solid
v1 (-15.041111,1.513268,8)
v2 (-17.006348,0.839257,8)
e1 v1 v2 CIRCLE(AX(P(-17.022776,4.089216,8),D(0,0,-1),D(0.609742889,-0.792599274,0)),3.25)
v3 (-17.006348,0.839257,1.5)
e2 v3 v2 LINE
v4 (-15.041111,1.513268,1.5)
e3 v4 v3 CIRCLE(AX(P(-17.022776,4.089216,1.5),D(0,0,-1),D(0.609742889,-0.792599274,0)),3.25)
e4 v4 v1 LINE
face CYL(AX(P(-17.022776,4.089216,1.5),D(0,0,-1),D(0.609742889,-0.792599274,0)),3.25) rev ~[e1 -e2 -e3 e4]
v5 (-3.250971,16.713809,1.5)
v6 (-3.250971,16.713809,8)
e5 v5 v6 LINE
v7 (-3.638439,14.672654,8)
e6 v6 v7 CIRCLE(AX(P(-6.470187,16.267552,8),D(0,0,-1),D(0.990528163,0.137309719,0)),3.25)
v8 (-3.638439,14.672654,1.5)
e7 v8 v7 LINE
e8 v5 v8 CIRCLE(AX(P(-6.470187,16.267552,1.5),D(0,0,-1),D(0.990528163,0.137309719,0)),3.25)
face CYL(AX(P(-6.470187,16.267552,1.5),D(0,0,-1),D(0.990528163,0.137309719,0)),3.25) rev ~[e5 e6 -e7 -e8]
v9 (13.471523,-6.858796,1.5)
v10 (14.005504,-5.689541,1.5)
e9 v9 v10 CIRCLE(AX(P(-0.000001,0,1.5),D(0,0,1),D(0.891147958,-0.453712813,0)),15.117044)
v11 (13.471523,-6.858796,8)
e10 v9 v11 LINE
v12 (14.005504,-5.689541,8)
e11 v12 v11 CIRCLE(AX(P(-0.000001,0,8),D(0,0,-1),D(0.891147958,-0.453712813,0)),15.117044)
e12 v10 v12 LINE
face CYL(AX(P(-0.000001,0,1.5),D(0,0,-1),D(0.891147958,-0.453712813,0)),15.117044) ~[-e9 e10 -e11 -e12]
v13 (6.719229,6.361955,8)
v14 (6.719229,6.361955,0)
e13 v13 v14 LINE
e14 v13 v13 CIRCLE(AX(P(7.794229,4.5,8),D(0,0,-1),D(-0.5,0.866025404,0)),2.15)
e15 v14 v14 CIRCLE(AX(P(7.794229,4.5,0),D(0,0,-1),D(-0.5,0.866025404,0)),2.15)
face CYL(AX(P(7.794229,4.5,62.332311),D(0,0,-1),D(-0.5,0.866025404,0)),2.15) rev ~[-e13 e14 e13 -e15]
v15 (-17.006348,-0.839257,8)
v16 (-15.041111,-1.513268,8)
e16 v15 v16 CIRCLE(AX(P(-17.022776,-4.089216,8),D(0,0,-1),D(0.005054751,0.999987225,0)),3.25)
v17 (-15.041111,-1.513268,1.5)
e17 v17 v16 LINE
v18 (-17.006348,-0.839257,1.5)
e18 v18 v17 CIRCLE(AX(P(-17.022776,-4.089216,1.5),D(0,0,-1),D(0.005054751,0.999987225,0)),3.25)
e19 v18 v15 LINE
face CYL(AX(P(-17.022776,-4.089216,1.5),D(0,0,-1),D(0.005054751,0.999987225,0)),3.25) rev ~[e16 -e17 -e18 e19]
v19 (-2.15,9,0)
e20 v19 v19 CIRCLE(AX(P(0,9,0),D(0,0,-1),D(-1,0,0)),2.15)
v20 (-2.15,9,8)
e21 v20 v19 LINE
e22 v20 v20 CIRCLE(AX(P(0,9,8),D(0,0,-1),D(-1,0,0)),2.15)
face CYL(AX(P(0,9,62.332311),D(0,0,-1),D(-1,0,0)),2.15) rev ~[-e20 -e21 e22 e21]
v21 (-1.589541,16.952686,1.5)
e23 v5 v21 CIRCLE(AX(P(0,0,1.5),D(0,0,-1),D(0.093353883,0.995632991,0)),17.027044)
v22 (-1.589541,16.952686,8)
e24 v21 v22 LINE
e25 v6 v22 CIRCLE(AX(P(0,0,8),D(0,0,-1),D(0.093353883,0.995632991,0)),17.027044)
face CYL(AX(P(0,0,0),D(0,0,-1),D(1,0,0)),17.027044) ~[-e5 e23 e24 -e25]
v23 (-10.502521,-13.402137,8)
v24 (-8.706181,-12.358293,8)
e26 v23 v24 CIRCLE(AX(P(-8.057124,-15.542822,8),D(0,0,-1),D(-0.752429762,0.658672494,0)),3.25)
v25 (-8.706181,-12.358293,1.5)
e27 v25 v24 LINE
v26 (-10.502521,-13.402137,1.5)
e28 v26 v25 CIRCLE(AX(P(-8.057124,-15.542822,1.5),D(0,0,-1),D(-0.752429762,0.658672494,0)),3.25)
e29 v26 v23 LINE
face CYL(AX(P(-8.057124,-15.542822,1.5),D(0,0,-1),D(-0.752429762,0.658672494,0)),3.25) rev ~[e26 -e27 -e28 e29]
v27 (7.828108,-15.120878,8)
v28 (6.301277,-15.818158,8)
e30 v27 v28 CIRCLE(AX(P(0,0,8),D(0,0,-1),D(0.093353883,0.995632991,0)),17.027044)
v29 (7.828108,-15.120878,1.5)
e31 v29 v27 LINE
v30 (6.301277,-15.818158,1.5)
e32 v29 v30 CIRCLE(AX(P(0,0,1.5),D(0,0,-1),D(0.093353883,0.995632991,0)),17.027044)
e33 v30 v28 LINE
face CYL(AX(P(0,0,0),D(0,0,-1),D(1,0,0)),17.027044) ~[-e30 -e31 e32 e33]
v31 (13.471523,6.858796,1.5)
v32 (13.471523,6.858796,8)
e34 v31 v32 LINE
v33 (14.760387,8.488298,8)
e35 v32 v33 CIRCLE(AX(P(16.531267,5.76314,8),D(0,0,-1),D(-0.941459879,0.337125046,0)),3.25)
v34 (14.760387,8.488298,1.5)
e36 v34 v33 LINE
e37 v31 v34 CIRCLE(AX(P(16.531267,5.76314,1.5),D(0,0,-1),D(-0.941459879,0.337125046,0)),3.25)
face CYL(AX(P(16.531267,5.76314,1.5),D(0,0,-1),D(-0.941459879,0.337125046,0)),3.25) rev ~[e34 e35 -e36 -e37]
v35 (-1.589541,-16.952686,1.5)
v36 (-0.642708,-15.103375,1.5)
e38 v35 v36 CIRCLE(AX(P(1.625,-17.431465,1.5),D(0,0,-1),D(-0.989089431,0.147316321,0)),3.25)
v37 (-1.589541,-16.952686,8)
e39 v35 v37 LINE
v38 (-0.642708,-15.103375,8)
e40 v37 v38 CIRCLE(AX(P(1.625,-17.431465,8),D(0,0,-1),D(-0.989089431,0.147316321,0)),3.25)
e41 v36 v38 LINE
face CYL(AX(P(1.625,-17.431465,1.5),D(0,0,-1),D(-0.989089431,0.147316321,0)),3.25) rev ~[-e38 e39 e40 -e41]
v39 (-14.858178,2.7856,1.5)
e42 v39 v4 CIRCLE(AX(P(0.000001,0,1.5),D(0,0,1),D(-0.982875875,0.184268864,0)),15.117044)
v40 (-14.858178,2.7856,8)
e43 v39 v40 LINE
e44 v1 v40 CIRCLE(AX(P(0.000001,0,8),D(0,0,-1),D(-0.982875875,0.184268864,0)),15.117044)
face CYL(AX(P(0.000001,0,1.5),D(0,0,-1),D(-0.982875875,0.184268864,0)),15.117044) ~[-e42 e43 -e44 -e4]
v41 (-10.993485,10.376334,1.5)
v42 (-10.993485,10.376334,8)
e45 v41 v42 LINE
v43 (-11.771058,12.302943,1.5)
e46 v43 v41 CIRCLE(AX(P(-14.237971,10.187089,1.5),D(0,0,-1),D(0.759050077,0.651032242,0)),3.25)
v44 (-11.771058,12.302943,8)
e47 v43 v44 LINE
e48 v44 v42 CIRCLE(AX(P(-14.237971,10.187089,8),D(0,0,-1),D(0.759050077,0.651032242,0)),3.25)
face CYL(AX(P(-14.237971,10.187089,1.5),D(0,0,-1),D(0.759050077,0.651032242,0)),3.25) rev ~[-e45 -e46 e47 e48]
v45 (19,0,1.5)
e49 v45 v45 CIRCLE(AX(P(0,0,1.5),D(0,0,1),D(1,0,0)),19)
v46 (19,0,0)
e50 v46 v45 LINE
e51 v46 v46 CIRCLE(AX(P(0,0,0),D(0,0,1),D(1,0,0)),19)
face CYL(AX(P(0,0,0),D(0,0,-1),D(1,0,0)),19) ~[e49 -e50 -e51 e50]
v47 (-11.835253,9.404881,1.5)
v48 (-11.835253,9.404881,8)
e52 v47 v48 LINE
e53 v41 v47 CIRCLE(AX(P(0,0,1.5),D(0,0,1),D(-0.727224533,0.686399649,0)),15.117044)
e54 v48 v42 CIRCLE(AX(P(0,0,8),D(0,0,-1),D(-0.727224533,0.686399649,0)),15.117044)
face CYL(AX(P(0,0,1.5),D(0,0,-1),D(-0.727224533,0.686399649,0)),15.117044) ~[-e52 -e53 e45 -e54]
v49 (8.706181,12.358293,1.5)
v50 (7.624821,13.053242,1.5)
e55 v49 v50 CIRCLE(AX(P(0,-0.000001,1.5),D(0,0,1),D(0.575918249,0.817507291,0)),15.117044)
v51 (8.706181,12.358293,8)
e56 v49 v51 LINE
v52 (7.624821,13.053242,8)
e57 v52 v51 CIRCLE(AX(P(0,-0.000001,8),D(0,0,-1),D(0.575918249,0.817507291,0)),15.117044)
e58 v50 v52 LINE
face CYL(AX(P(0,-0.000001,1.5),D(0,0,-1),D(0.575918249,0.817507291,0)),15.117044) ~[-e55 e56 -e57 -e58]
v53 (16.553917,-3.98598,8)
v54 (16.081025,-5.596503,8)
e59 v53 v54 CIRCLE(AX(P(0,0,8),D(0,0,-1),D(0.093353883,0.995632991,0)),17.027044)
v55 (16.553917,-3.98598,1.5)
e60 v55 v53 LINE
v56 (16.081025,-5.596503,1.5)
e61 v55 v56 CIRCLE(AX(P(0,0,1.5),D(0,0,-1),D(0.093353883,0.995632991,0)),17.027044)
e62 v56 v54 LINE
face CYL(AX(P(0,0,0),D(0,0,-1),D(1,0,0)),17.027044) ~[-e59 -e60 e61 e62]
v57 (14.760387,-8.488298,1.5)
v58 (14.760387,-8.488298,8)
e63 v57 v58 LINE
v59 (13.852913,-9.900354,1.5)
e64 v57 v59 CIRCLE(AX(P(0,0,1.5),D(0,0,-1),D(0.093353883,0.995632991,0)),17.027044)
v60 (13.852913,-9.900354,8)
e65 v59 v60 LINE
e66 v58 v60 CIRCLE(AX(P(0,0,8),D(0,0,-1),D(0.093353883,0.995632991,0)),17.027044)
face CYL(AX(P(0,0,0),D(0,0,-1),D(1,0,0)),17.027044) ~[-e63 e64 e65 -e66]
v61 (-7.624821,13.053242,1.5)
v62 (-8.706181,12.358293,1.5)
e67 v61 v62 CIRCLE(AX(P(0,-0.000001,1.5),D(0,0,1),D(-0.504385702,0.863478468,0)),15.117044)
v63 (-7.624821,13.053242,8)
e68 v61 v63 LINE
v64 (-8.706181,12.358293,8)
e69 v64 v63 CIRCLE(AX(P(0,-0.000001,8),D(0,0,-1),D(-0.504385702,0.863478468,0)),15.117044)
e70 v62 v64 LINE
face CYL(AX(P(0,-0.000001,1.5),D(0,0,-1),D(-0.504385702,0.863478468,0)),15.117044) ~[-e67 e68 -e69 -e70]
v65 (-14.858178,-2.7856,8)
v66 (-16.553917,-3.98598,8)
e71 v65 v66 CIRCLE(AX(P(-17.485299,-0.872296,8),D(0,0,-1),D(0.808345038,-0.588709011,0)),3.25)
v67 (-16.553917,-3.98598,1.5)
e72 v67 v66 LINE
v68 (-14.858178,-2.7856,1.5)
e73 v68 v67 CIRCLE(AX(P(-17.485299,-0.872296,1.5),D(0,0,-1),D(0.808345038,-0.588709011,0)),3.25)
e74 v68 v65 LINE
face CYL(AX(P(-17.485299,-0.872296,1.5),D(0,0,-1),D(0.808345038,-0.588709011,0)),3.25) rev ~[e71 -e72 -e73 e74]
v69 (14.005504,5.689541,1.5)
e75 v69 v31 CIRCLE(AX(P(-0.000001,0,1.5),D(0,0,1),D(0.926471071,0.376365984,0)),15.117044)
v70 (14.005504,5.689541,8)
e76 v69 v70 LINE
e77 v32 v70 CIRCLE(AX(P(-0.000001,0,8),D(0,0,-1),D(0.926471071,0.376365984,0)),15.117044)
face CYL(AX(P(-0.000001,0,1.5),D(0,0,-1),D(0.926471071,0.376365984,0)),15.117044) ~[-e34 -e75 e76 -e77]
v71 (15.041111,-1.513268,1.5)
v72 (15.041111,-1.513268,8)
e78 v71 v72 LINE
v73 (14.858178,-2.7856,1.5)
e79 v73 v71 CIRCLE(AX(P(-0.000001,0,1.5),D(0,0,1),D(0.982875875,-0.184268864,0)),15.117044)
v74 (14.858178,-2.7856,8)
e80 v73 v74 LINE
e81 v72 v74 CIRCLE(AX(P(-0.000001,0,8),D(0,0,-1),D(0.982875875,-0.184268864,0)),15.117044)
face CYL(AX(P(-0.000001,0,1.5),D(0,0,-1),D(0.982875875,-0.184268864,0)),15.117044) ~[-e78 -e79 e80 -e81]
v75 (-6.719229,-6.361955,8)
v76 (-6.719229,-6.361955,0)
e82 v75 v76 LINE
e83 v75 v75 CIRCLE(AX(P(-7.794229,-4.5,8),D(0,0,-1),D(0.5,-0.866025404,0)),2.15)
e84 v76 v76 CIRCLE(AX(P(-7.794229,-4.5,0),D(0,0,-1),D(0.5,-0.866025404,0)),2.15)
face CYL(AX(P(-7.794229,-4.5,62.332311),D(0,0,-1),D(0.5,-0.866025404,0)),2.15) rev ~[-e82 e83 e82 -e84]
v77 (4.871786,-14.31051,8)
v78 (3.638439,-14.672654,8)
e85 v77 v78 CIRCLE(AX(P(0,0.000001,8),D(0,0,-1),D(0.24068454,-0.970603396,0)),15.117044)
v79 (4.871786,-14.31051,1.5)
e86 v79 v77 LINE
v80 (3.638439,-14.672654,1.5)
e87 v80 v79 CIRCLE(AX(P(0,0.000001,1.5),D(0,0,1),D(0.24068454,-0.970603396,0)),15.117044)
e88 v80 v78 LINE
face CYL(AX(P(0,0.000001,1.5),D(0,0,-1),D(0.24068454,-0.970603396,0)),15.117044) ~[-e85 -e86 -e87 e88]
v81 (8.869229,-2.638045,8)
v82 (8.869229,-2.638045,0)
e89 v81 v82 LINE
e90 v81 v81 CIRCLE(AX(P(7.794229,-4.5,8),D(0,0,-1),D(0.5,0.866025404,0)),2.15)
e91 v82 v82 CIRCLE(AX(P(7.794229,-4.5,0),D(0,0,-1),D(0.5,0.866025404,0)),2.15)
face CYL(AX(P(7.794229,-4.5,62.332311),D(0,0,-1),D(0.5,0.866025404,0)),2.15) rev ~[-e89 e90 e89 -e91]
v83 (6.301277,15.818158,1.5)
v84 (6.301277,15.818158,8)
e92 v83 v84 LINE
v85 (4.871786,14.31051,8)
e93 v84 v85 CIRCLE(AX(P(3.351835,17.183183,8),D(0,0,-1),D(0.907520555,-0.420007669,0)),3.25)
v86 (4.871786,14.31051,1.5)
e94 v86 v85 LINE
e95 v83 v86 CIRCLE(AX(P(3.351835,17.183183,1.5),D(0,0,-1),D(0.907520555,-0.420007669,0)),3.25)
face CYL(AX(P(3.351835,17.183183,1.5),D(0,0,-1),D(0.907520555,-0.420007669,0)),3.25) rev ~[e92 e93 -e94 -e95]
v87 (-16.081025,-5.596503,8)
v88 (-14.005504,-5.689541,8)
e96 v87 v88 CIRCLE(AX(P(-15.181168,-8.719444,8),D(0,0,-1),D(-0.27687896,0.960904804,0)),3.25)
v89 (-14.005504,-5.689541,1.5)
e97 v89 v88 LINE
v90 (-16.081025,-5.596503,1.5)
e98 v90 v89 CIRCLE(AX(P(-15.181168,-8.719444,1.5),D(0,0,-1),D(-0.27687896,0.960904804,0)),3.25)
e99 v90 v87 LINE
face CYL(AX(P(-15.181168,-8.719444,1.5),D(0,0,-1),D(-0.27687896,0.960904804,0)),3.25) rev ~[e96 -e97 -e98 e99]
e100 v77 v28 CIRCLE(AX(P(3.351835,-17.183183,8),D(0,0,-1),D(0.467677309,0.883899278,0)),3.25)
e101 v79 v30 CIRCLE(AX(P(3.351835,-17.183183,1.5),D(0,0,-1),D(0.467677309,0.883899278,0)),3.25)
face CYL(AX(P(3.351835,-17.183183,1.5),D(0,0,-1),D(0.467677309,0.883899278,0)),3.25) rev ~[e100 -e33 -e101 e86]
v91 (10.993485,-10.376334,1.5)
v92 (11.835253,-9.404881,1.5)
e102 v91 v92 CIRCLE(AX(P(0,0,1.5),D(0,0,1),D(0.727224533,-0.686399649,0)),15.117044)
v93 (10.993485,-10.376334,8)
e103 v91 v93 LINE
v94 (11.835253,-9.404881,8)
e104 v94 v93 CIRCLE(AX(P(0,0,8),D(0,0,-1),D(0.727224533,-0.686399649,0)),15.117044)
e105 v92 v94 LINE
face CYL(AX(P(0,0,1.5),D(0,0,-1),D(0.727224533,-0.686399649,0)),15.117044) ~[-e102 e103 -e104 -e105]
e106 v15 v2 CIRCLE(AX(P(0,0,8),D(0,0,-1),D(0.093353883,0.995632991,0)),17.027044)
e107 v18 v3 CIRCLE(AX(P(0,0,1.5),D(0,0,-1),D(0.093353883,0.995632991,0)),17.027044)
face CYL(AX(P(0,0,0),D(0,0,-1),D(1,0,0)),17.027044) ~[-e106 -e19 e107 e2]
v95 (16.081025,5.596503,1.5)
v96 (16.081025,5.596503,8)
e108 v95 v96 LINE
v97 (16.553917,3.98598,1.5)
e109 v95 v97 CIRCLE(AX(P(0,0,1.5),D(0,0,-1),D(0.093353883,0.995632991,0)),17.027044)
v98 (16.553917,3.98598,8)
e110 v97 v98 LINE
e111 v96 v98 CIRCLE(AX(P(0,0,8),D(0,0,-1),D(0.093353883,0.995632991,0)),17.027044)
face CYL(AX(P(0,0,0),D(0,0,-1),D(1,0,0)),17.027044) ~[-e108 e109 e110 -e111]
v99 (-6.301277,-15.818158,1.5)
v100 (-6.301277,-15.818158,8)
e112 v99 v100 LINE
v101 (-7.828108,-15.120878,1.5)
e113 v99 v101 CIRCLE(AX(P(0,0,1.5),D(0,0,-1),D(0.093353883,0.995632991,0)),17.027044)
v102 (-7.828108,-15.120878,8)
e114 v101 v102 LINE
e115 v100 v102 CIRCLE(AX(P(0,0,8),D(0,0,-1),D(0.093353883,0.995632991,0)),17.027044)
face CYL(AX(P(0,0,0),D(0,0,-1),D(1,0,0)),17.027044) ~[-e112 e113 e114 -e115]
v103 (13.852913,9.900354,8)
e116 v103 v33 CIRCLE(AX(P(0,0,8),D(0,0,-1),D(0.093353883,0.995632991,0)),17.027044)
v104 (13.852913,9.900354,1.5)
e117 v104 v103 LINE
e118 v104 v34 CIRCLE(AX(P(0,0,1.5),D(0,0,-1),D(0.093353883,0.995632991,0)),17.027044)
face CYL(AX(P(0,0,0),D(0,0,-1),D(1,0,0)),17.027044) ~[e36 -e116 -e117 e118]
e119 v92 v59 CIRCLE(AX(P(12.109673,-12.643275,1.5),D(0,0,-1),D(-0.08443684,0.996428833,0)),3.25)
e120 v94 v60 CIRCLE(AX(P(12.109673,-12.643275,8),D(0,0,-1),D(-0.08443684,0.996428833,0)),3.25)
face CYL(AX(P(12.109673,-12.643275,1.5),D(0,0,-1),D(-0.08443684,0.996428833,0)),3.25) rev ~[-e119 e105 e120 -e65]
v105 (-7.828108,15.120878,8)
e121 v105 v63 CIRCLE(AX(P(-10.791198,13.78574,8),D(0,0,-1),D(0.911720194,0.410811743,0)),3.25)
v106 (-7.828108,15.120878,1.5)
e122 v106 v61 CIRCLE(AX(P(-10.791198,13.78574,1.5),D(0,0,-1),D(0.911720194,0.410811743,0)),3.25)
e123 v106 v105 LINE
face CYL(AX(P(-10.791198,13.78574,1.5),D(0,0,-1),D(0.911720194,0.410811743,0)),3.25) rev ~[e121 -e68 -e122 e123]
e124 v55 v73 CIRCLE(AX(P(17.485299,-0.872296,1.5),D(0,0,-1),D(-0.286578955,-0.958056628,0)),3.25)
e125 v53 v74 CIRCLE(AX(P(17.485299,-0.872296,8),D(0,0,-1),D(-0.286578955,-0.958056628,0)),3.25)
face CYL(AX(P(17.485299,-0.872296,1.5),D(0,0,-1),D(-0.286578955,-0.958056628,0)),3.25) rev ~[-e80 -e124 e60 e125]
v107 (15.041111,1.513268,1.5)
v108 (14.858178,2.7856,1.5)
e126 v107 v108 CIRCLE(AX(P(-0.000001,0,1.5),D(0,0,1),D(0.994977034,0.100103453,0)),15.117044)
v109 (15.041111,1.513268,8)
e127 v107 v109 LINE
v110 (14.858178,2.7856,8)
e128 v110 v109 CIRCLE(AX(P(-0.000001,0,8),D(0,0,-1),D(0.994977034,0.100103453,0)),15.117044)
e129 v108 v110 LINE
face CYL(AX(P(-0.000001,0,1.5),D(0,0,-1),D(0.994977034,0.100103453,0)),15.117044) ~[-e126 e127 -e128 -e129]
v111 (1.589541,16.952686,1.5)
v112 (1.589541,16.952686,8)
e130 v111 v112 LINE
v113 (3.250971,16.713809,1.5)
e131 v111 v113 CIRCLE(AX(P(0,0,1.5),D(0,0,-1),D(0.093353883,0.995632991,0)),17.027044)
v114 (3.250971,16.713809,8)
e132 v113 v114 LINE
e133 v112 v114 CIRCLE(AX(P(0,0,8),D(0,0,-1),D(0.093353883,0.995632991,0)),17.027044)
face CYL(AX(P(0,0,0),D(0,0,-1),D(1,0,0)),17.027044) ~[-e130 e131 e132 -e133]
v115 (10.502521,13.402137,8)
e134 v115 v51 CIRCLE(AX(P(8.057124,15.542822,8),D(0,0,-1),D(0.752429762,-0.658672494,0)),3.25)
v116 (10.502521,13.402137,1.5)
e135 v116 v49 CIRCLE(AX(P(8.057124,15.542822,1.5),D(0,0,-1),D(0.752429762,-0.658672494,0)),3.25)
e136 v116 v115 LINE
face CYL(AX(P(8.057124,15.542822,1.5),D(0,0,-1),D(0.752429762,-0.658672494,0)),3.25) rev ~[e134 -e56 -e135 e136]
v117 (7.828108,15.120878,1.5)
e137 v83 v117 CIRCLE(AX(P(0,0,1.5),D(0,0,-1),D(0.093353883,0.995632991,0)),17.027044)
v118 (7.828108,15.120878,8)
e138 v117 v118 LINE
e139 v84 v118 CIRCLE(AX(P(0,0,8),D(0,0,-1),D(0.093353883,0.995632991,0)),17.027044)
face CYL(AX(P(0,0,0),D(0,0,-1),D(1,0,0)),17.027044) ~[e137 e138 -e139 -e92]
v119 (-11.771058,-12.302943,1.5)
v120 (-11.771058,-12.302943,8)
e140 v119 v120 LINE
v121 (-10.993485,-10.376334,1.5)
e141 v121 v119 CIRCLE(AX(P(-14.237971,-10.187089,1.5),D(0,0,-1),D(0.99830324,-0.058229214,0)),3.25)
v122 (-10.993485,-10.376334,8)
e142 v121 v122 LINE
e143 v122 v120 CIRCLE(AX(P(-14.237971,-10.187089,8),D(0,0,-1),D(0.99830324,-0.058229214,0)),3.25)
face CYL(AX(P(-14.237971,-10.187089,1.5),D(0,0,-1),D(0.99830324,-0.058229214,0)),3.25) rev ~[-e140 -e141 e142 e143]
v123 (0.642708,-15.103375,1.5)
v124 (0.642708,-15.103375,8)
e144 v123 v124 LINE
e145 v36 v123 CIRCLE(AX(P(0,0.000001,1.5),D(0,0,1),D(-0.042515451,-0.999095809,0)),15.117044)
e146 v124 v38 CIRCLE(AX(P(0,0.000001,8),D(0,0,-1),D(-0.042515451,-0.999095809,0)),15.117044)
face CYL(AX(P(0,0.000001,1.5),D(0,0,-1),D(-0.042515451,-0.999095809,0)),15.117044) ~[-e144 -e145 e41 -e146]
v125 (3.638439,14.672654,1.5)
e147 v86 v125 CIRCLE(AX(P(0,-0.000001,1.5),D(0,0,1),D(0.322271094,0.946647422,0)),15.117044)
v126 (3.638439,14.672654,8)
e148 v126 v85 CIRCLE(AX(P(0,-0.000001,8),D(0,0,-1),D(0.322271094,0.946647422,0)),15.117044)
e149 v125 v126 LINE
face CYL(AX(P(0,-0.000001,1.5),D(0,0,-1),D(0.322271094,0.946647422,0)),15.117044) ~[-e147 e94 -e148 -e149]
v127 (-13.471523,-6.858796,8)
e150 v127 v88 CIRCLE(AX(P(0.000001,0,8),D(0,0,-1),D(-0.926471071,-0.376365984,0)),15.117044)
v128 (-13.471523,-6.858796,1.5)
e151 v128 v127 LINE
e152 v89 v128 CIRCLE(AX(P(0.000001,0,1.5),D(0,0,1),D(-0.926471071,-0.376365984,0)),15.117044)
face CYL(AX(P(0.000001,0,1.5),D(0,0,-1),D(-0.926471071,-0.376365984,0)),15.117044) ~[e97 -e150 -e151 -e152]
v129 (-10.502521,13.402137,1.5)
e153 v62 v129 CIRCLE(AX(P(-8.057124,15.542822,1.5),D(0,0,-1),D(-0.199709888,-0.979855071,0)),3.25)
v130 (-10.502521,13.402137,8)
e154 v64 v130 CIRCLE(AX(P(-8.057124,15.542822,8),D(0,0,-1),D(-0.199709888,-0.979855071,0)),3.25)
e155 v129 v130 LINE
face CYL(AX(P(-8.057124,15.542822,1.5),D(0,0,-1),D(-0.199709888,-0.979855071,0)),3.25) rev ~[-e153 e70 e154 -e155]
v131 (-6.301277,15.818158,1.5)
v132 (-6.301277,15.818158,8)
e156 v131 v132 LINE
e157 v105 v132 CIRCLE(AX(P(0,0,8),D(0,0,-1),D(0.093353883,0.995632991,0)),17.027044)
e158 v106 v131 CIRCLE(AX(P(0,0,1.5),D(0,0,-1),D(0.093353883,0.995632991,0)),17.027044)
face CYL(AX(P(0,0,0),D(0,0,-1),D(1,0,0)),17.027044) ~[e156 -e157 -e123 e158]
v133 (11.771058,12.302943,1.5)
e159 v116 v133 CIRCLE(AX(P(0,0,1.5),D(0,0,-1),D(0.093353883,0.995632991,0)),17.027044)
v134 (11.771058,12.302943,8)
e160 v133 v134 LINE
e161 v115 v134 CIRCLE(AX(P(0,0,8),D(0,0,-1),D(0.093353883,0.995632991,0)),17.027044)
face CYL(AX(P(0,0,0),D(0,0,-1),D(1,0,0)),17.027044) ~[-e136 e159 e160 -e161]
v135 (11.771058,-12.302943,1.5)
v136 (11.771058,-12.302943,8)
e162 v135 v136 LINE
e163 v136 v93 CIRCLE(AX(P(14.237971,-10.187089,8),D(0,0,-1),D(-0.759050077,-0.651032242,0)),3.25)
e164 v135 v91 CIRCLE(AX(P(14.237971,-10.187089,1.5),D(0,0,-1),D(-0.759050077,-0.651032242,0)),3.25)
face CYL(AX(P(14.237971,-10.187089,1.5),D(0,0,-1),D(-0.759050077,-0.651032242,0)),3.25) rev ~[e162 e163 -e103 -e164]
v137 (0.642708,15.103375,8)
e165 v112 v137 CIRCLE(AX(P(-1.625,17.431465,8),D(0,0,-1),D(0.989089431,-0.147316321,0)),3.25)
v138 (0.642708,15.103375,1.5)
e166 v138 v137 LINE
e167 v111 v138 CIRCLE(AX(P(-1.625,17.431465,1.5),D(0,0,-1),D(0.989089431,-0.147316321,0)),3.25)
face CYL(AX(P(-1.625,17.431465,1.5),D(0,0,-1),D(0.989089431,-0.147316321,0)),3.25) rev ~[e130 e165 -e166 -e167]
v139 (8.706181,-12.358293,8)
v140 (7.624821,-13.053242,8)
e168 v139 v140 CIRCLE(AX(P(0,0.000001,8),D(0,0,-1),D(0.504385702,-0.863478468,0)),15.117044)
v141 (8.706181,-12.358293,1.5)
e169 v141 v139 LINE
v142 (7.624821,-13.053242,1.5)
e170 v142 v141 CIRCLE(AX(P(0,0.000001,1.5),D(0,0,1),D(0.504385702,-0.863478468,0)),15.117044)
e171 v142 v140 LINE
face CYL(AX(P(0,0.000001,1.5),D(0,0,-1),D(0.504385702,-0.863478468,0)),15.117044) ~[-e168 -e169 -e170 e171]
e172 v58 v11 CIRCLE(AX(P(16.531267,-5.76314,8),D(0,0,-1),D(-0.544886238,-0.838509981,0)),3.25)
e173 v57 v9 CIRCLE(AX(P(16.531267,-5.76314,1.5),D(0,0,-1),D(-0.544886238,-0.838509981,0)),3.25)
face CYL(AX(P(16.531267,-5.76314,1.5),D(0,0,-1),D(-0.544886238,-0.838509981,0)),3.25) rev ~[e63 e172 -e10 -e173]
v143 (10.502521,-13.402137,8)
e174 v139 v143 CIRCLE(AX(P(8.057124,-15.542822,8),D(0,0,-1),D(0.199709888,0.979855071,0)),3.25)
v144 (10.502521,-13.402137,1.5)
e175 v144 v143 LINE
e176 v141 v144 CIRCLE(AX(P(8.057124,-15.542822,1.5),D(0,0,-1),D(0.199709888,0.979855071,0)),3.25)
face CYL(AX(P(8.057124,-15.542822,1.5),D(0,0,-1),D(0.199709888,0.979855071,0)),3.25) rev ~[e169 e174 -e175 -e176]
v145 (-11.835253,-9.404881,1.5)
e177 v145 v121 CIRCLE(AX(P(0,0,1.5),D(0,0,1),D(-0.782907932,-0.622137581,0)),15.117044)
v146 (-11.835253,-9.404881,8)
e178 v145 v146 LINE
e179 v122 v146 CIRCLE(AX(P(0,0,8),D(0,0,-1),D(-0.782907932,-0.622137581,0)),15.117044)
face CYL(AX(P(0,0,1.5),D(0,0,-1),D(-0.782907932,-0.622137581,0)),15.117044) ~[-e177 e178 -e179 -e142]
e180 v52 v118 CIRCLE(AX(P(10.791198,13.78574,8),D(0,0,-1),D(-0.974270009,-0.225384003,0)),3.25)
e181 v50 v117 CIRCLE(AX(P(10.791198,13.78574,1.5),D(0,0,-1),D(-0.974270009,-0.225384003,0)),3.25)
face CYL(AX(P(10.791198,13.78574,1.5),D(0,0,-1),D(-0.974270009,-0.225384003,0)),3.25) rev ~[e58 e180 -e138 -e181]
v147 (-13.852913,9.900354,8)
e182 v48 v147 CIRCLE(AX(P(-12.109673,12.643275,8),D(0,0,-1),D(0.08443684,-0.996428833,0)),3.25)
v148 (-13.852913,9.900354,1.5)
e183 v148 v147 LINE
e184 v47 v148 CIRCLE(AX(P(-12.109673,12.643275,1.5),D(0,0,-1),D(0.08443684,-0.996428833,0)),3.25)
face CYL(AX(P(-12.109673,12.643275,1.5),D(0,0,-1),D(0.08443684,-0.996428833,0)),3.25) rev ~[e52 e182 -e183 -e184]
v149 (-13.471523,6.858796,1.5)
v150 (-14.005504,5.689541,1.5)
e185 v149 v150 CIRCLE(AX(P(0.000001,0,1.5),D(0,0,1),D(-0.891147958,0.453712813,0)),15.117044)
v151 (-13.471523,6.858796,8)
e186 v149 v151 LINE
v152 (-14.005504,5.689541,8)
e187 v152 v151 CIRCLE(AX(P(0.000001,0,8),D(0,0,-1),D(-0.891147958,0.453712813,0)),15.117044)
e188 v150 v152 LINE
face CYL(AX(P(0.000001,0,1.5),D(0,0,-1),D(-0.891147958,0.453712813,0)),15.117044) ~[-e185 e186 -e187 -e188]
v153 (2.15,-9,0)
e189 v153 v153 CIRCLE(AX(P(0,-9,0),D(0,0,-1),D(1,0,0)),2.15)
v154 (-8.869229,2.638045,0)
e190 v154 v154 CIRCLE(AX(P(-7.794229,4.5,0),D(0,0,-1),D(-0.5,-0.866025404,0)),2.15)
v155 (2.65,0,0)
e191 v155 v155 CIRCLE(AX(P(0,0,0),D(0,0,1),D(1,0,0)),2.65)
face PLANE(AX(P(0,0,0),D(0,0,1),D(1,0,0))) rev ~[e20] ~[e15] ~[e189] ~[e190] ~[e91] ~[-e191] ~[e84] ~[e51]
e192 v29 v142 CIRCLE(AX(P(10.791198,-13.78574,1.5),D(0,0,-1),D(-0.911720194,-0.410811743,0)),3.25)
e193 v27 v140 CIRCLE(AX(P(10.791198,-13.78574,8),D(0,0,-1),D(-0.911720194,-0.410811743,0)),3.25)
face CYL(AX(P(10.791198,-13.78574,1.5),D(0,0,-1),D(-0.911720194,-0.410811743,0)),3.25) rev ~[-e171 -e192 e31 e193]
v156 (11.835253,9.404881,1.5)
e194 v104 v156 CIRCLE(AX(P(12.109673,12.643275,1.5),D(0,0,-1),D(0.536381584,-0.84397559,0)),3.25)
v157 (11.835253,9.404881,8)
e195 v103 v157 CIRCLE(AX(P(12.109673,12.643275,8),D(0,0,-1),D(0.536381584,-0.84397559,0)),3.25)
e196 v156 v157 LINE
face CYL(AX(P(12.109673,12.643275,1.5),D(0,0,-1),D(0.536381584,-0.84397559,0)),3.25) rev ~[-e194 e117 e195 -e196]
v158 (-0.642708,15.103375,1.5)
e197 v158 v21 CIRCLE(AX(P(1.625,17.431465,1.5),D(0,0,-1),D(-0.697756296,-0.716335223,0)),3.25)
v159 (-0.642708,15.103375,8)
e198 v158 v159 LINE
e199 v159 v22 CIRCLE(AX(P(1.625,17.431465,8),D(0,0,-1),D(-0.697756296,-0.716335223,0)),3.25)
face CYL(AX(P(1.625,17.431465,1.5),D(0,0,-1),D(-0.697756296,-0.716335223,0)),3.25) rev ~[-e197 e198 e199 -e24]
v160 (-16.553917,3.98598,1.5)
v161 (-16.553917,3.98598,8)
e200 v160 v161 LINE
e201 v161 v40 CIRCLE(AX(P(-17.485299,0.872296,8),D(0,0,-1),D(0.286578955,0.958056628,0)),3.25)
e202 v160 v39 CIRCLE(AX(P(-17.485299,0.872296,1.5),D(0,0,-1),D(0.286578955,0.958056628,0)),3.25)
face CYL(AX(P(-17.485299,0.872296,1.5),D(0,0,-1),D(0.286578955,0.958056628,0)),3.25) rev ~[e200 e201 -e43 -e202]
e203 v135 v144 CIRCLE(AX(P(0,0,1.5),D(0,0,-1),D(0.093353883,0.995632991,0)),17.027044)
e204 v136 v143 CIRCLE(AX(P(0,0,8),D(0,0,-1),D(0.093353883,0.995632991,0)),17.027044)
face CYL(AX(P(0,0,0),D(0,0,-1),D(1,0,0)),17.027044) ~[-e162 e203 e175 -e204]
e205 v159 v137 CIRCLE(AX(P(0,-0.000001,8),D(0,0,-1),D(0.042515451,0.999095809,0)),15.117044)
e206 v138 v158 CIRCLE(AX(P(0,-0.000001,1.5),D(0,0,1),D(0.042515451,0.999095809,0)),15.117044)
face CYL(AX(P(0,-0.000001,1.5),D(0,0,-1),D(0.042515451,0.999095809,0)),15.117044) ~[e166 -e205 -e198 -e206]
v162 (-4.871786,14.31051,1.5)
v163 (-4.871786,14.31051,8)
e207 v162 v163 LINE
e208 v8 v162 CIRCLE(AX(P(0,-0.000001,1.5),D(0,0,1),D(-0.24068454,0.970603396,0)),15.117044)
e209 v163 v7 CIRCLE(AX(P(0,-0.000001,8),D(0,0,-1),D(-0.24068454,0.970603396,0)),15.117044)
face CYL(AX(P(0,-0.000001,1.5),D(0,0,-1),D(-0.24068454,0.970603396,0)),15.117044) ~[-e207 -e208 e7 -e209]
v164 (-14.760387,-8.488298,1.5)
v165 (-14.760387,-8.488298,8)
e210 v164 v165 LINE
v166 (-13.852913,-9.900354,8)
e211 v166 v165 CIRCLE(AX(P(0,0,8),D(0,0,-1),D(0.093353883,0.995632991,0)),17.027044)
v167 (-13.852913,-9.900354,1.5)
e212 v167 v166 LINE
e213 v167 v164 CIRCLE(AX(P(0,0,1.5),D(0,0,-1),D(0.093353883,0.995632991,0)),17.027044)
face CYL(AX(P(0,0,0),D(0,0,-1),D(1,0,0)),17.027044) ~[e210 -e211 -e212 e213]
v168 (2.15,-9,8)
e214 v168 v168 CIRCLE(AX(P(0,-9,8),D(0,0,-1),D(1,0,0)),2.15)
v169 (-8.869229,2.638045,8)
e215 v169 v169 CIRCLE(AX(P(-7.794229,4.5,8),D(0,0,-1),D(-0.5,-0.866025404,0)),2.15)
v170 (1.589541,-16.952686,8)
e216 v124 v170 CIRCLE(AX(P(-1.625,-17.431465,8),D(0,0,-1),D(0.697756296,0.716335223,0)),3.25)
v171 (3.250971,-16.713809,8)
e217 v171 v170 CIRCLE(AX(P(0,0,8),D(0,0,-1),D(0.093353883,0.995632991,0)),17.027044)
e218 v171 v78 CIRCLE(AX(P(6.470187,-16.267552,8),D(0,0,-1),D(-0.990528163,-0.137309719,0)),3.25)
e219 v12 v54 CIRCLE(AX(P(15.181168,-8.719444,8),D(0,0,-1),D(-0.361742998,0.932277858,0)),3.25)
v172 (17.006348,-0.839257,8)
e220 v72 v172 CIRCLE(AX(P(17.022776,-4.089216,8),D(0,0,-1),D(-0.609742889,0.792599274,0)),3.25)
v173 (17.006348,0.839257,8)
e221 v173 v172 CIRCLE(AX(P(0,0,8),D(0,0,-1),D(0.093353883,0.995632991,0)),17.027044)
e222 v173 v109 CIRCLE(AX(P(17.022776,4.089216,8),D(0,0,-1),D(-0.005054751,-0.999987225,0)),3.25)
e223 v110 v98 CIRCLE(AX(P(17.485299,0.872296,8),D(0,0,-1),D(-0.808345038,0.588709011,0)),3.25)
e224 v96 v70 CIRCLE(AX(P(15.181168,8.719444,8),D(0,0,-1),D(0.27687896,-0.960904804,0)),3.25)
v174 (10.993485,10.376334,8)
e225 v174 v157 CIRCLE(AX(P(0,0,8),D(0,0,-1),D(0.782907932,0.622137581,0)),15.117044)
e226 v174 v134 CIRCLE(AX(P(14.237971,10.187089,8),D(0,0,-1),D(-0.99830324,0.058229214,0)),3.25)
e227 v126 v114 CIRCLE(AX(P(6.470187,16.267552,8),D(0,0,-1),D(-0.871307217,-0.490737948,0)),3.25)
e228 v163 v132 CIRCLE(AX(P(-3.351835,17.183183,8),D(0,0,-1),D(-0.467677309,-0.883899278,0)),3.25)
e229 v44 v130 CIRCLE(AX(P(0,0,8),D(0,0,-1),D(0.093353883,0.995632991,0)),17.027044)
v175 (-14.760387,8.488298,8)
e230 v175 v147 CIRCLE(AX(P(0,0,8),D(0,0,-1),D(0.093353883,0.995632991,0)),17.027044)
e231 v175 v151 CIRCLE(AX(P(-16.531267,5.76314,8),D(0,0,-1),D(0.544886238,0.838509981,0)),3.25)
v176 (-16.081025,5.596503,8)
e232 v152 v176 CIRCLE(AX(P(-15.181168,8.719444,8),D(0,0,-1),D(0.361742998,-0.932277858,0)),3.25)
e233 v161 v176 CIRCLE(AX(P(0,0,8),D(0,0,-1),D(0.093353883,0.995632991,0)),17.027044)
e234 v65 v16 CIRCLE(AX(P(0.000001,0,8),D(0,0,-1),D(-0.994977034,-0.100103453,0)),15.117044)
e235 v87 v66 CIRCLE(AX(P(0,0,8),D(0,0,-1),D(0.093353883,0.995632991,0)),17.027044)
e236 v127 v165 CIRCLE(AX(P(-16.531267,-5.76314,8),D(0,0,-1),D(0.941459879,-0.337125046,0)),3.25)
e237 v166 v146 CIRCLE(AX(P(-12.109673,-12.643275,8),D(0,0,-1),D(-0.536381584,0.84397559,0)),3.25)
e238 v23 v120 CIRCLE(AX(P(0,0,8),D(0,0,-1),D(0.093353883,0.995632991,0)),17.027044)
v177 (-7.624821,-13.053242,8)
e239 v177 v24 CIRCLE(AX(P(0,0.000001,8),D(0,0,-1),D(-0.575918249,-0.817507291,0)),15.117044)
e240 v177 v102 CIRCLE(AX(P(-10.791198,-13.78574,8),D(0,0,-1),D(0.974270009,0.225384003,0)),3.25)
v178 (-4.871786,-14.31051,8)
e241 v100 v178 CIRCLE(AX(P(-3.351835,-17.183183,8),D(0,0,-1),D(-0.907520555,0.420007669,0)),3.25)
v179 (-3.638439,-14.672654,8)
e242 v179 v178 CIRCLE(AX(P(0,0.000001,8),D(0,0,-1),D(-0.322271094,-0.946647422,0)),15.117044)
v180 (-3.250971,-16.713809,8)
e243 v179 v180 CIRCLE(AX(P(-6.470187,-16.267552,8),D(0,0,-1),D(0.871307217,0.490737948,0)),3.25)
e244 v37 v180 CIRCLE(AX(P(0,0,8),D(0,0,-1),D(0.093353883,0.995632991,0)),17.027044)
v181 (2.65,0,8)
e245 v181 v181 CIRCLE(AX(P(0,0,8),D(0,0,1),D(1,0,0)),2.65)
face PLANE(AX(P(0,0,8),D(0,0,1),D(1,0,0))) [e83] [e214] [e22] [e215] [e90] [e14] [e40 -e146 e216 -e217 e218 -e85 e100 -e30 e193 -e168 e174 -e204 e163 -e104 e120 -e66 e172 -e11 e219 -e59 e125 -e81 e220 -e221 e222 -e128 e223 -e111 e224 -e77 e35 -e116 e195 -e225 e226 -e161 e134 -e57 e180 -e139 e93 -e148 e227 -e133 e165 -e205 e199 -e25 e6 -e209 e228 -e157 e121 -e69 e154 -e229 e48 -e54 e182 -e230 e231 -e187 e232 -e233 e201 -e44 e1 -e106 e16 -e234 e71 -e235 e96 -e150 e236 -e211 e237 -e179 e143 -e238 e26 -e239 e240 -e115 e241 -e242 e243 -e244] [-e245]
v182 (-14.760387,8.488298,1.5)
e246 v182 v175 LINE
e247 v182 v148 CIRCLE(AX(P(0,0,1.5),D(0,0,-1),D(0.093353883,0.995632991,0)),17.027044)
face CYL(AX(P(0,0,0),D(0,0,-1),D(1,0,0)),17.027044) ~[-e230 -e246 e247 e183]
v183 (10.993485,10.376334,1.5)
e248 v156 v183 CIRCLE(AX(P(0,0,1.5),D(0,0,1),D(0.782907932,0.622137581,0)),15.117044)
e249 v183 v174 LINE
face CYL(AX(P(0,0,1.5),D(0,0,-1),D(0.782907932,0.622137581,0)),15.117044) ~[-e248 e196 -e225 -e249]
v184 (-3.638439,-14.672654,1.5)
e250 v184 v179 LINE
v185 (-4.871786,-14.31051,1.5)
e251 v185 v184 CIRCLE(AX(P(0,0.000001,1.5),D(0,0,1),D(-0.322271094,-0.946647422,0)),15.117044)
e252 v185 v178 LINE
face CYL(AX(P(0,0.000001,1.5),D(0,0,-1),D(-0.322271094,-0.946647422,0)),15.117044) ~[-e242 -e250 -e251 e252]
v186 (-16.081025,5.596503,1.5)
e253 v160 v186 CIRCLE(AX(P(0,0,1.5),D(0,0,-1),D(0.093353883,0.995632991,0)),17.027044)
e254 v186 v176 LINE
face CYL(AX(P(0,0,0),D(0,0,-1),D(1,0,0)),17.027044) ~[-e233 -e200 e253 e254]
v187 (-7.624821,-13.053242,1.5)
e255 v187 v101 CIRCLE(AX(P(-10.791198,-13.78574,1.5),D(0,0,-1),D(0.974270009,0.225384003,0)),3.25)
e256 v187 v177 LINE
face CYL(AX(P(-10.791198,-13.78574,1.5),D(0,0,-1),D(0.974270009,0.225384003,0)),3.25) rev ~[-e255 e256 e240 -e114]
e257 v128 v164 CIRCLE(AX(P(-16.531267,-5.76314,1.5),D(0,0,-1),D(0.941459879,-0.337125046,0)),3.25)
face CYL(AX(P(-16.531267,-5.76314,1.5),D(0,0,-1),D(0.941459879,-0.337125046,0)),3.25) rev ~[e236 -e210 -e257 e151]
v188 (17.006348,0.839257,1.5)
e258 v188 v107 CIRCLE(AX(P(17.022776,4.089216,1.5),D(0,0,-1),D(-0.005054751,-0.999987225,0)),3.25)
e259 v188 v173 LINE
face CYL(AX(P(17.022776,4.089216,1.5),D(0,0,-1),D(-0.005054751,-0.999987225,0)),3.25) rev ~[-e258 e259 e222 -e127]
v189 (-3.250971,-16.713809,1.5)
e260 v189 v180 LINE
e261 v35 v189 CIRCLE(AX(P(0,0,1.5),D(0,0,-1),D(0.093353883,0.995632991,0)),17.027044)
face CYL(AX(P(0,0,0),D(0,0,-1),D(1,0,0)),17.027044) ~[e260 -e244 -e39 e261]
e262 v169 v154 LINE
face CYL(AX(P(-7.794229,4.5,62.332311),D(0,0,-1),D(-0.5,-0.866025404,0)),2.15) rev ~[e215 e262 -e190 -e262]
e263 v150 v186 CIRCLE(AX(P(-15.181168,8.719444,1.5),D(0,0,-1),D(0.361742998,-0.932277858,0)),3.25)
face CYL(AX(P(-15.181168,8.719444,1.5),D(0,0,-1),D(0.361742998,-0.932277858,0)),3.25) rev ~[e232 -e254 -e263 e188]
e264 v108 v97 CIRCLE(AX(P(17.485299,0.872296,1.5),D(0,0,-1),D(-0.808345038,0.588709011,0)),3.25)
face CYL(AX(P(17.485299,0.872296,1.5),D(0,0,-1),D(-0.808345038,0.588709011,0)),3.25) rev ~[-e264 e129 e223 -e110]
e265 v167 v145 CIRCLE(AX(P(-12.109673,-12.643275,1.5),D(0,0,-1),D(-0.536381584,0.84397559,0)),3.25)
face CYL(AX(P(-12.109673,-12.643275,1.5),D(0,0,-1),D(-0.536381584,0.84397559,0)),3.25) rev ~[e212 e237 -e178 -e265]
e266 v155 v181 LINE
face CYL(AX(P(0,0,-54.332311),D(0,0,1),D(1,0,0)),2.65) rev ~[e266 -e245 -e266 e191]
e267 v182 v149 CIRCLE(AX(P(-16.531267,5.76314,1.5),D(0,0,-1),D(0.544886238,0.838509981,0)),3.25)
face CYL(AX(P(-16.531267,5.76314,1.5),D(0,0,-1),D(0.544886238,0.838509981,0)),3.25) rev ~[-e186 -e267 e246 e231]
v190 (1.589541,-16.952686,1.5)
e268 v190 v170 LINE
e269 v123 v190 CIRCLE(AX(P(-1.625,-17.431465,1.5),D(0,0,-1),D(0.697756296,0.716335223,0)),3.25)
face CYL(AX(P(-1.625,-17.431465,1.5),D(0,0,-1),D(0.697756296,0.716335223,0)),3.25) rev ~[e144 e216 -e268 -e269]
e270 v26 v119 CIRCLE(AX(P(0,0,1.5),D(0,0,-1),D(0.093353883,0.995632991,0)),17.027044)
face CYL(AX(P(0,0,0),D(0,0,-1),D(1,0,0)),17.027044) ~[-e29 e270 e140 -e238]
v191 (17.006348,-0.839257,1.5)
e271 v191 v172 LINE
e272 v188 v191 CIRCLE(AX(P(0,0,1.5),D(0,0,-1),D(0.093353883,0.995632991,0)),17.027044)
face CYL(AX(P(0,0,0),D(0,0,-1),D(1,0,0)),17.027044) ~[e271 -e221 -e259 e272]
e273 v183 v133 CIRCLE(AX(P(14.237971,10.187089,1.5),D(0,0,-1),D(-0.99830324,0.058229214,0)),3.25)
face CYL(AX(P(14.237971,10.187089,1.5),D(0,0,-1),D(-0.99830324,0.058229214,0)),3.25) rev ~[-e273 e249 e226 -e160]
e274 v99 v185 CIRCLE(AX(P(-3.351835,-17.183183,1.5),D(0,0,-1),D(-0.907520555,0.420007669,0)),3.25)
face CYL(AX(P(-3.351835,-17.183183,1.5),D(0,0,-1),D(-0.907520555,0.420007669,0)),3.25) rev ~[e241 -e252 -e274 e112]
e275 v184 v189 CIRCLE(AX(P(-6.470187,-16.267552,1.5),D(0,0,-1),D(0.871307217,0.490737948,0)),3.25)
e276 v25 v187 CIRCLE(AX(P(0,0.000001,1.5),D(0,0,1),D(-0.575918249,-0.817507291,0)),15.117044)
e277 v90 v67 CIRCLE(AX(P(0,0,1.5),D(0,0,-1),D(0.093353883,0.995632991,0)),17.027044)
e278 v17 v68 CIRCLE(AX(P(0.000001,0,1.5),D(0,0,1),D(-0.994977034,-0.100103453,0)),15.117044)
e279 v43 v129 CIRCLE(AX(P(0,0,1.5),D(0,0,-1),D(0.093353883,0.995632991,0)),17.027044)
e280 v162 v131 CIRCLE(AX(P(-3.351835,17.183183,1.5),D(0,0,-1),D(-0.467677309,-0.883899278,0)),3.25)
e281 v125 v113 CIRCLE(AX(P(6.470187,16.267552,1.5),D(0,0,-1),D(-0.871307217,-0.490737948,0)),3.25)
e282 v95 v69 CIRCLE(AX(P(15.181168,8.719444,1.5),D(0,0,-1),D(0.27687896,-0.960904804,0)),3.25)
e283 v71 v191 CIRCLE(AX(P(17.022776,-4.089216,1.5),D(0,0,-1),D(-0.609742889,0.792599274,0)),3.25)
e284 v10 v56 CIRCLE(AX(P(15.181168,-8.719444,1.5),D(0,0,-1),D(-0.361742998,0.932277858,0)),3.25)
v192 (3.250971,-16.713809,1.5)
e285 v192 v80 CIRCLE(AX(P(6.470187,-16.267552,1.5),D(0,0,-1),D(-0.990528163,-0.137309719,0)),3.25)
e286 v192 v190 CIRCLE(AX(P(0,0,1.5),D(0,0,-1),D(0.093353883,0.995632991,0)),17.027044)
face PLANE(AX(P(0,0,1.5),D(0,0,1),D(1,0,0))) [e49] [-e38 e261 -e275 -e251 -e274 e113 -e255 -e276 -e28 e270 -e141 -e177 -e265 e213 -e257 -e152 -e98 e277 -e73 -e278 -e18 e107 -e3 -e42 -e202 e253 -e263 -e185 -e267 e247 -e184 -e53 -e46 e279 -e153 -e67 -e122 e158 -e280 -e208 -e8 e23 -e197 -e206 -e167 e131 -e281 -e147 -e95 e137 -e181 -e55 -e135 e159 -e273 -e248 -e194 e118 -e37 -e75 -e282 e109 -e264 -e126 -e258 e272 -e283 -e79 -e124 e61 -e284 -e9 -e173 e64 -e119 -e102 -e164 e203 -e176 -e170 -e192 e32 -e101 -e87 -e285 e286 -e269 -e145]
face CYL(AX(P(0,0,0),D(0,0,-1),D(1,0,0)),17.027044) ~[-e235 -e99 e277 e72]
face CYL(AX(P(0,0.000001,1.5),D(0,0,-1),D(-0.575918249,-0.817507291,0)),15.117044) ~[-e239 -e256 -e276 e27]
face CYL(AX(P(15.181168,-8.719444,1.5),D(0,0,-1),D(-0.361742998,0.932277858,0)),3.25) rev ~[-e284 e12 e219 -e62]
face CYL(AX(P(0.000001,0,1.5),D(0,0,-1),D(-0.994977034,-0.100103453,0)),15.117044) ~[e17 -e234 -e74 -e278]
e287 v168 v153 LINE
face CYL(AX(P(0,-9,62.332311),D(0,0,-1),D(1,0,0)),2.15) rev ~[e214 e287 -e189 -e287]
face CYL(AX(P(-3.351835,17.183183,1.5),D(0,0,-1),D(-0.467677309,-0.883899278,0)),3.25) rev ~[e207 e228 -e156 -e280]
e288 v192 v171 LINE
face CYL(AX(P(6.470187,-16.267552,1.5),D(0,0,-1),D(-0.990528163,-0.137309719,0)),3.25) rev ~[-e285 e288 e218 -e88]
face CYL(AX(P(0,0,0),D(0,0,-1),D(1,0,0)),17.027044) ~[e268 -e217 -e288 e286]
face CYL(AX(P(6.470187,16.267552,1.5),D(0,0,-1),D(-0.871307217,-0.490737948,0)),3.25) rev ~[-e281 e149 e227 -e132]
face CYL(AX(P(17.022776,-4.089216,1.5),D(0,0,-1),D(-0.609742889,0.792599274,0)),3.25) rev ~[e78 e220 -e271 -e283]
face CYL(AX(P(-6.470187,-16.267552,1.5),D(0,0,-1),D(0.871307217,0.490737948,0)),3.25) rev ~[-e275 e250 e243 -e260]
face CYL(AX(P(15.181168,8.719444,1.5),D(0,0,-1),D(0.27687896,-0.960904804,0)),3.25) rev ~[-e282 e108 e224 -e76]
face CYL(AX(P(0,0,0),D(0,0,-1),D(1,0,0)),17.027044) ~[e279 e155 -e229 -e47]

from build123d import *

# Parameters (mm, degrees)
SKETCH_1_R               = 17.02704374
EXTRUDE_1_DEPTH          = 6
SKETCH_1_6_R             = 17.02704374
EXTRUDE_2_DEPTH          = 8
SKETCH_1_7_R             = 19
EXTRUDE_3_DEPTH          = 1.5
CUT_EXTRUDE_START        = 1.5
CUT_EXTRUDE_3_DEPTH      = 27.535691538
PATTERN_CIRCULAR_1_COUNT = 22
HOLE_WIZARD_M4_1_D       = 4.3
PATTERN_CIRCULAR_2_COUNT = 6
HOLE_WIZARD_M5_1_D       = 5.3


with BuildPart() as part:
    # ｽｹｯﾁ1 → ﾎﾞｽ - 押し出し1 (new body)
    with BuildSketch(Plane.XY):
        Circle(SKETCH_1_R)
    extrude(amount=EXTRUDE_1_DEPTH)

    # ｽｹｯﾁ1<6> → ﾎﾞｽ - 押し出し2 (add)
    with BuildSketch(Plane.XY):
        Circle(SKETCH_1_6_R)
    extrude(amount=EXTRUDE_2_DEPTH)

    # ｽｹｯﾁ1<7> → ﾎﾞｽ - 押し出し3 (add)
    with BuildSketch(Plane.XY):
        Circle(SKETCH_1_7_R)
    extrude(amount=EXTRUDE_3_DEPTH)

    # ｽｹｯﾁ3 → ｶｯﾄ - 押し出し3 (cut, through all)
    with BuildSketch(Plane.XY.offset(CUT_EXTRUDE_START)):
        with BuildLine():
            ThreePointArc((0.642707961, 15.103375051), (1.267879301, 15.950333421), (1.58954065, 16.952686485))
            ThreePointArc((1.58954065, 16.952686485), (0, 17.02704374), (-1.58954065, 16.952686485))
            ThreePointArc((-1.58954065, 16.952686485), (-1.267879301, 15.950333421), (-0.642707961, 15.103375051))
            ThreePointArc((-0.642707961, 15.103375051), (0, 15.11704374), (0.642707961, 15.103375051))
        make_face()
    cut_extrude_3 = extrude(amount=CUT_EXTRUDE_3_DEPTH, mode=Mode.SUBTRACT)

    # 円形ﾊﾟﾀｰﾝ1: ｶｯﾄ - 押し出し3 ×22 about axis
    pattern_circular_1_axis = Axis((0, 0, 6), (0, 0, -1))
    for i in range(1, PATTERN_CIRCULAR_1_COUNT):
        add(cut_extrude_3.rotate(pattern_circular_1_axis, i * 360 / PATTERN_CIRCULAR_1_COUNT), mode=Mode.SUBTRACT)

    # M4 すきま穴1 (through all)
    with Locations(Plane(origin=(0, 9, 8), x_dir=(1, 0, 0), z_dir=(0, 0, 1))):
        with Locations((0, 0)):
            hole_wizard_m4_1 = Hole(HOLE_WIZARD_M4_1_D / 2)

    # 円形ﾊﾟﾀｰﾝ2: M4 すきま穴1 ×6 about axis
    pattern_circular_2_axis = Axis((0, 0, 1.5), (0, 0, -1))
    for i in range(1, PATTERN_CIRCULAR_2_COUNT):
        add(hole_wizard_m4_1.rotate(pattern_circular_2_axis, i * 360 / PATTERN_CIRCULAR_2_COUNT), mode=Mode.SUBTRACT)

    # M5 すきま穴1 (through all)
    with Locations(Plane(origin=(0, 0, 0), x_dir=(-1, 0, 0), z_dir=(0, 0, -1))):
        with Locations((0, 0)):
            Hole(HOLE_WIZARD_M5_1_D / 2)


solid = part.part
